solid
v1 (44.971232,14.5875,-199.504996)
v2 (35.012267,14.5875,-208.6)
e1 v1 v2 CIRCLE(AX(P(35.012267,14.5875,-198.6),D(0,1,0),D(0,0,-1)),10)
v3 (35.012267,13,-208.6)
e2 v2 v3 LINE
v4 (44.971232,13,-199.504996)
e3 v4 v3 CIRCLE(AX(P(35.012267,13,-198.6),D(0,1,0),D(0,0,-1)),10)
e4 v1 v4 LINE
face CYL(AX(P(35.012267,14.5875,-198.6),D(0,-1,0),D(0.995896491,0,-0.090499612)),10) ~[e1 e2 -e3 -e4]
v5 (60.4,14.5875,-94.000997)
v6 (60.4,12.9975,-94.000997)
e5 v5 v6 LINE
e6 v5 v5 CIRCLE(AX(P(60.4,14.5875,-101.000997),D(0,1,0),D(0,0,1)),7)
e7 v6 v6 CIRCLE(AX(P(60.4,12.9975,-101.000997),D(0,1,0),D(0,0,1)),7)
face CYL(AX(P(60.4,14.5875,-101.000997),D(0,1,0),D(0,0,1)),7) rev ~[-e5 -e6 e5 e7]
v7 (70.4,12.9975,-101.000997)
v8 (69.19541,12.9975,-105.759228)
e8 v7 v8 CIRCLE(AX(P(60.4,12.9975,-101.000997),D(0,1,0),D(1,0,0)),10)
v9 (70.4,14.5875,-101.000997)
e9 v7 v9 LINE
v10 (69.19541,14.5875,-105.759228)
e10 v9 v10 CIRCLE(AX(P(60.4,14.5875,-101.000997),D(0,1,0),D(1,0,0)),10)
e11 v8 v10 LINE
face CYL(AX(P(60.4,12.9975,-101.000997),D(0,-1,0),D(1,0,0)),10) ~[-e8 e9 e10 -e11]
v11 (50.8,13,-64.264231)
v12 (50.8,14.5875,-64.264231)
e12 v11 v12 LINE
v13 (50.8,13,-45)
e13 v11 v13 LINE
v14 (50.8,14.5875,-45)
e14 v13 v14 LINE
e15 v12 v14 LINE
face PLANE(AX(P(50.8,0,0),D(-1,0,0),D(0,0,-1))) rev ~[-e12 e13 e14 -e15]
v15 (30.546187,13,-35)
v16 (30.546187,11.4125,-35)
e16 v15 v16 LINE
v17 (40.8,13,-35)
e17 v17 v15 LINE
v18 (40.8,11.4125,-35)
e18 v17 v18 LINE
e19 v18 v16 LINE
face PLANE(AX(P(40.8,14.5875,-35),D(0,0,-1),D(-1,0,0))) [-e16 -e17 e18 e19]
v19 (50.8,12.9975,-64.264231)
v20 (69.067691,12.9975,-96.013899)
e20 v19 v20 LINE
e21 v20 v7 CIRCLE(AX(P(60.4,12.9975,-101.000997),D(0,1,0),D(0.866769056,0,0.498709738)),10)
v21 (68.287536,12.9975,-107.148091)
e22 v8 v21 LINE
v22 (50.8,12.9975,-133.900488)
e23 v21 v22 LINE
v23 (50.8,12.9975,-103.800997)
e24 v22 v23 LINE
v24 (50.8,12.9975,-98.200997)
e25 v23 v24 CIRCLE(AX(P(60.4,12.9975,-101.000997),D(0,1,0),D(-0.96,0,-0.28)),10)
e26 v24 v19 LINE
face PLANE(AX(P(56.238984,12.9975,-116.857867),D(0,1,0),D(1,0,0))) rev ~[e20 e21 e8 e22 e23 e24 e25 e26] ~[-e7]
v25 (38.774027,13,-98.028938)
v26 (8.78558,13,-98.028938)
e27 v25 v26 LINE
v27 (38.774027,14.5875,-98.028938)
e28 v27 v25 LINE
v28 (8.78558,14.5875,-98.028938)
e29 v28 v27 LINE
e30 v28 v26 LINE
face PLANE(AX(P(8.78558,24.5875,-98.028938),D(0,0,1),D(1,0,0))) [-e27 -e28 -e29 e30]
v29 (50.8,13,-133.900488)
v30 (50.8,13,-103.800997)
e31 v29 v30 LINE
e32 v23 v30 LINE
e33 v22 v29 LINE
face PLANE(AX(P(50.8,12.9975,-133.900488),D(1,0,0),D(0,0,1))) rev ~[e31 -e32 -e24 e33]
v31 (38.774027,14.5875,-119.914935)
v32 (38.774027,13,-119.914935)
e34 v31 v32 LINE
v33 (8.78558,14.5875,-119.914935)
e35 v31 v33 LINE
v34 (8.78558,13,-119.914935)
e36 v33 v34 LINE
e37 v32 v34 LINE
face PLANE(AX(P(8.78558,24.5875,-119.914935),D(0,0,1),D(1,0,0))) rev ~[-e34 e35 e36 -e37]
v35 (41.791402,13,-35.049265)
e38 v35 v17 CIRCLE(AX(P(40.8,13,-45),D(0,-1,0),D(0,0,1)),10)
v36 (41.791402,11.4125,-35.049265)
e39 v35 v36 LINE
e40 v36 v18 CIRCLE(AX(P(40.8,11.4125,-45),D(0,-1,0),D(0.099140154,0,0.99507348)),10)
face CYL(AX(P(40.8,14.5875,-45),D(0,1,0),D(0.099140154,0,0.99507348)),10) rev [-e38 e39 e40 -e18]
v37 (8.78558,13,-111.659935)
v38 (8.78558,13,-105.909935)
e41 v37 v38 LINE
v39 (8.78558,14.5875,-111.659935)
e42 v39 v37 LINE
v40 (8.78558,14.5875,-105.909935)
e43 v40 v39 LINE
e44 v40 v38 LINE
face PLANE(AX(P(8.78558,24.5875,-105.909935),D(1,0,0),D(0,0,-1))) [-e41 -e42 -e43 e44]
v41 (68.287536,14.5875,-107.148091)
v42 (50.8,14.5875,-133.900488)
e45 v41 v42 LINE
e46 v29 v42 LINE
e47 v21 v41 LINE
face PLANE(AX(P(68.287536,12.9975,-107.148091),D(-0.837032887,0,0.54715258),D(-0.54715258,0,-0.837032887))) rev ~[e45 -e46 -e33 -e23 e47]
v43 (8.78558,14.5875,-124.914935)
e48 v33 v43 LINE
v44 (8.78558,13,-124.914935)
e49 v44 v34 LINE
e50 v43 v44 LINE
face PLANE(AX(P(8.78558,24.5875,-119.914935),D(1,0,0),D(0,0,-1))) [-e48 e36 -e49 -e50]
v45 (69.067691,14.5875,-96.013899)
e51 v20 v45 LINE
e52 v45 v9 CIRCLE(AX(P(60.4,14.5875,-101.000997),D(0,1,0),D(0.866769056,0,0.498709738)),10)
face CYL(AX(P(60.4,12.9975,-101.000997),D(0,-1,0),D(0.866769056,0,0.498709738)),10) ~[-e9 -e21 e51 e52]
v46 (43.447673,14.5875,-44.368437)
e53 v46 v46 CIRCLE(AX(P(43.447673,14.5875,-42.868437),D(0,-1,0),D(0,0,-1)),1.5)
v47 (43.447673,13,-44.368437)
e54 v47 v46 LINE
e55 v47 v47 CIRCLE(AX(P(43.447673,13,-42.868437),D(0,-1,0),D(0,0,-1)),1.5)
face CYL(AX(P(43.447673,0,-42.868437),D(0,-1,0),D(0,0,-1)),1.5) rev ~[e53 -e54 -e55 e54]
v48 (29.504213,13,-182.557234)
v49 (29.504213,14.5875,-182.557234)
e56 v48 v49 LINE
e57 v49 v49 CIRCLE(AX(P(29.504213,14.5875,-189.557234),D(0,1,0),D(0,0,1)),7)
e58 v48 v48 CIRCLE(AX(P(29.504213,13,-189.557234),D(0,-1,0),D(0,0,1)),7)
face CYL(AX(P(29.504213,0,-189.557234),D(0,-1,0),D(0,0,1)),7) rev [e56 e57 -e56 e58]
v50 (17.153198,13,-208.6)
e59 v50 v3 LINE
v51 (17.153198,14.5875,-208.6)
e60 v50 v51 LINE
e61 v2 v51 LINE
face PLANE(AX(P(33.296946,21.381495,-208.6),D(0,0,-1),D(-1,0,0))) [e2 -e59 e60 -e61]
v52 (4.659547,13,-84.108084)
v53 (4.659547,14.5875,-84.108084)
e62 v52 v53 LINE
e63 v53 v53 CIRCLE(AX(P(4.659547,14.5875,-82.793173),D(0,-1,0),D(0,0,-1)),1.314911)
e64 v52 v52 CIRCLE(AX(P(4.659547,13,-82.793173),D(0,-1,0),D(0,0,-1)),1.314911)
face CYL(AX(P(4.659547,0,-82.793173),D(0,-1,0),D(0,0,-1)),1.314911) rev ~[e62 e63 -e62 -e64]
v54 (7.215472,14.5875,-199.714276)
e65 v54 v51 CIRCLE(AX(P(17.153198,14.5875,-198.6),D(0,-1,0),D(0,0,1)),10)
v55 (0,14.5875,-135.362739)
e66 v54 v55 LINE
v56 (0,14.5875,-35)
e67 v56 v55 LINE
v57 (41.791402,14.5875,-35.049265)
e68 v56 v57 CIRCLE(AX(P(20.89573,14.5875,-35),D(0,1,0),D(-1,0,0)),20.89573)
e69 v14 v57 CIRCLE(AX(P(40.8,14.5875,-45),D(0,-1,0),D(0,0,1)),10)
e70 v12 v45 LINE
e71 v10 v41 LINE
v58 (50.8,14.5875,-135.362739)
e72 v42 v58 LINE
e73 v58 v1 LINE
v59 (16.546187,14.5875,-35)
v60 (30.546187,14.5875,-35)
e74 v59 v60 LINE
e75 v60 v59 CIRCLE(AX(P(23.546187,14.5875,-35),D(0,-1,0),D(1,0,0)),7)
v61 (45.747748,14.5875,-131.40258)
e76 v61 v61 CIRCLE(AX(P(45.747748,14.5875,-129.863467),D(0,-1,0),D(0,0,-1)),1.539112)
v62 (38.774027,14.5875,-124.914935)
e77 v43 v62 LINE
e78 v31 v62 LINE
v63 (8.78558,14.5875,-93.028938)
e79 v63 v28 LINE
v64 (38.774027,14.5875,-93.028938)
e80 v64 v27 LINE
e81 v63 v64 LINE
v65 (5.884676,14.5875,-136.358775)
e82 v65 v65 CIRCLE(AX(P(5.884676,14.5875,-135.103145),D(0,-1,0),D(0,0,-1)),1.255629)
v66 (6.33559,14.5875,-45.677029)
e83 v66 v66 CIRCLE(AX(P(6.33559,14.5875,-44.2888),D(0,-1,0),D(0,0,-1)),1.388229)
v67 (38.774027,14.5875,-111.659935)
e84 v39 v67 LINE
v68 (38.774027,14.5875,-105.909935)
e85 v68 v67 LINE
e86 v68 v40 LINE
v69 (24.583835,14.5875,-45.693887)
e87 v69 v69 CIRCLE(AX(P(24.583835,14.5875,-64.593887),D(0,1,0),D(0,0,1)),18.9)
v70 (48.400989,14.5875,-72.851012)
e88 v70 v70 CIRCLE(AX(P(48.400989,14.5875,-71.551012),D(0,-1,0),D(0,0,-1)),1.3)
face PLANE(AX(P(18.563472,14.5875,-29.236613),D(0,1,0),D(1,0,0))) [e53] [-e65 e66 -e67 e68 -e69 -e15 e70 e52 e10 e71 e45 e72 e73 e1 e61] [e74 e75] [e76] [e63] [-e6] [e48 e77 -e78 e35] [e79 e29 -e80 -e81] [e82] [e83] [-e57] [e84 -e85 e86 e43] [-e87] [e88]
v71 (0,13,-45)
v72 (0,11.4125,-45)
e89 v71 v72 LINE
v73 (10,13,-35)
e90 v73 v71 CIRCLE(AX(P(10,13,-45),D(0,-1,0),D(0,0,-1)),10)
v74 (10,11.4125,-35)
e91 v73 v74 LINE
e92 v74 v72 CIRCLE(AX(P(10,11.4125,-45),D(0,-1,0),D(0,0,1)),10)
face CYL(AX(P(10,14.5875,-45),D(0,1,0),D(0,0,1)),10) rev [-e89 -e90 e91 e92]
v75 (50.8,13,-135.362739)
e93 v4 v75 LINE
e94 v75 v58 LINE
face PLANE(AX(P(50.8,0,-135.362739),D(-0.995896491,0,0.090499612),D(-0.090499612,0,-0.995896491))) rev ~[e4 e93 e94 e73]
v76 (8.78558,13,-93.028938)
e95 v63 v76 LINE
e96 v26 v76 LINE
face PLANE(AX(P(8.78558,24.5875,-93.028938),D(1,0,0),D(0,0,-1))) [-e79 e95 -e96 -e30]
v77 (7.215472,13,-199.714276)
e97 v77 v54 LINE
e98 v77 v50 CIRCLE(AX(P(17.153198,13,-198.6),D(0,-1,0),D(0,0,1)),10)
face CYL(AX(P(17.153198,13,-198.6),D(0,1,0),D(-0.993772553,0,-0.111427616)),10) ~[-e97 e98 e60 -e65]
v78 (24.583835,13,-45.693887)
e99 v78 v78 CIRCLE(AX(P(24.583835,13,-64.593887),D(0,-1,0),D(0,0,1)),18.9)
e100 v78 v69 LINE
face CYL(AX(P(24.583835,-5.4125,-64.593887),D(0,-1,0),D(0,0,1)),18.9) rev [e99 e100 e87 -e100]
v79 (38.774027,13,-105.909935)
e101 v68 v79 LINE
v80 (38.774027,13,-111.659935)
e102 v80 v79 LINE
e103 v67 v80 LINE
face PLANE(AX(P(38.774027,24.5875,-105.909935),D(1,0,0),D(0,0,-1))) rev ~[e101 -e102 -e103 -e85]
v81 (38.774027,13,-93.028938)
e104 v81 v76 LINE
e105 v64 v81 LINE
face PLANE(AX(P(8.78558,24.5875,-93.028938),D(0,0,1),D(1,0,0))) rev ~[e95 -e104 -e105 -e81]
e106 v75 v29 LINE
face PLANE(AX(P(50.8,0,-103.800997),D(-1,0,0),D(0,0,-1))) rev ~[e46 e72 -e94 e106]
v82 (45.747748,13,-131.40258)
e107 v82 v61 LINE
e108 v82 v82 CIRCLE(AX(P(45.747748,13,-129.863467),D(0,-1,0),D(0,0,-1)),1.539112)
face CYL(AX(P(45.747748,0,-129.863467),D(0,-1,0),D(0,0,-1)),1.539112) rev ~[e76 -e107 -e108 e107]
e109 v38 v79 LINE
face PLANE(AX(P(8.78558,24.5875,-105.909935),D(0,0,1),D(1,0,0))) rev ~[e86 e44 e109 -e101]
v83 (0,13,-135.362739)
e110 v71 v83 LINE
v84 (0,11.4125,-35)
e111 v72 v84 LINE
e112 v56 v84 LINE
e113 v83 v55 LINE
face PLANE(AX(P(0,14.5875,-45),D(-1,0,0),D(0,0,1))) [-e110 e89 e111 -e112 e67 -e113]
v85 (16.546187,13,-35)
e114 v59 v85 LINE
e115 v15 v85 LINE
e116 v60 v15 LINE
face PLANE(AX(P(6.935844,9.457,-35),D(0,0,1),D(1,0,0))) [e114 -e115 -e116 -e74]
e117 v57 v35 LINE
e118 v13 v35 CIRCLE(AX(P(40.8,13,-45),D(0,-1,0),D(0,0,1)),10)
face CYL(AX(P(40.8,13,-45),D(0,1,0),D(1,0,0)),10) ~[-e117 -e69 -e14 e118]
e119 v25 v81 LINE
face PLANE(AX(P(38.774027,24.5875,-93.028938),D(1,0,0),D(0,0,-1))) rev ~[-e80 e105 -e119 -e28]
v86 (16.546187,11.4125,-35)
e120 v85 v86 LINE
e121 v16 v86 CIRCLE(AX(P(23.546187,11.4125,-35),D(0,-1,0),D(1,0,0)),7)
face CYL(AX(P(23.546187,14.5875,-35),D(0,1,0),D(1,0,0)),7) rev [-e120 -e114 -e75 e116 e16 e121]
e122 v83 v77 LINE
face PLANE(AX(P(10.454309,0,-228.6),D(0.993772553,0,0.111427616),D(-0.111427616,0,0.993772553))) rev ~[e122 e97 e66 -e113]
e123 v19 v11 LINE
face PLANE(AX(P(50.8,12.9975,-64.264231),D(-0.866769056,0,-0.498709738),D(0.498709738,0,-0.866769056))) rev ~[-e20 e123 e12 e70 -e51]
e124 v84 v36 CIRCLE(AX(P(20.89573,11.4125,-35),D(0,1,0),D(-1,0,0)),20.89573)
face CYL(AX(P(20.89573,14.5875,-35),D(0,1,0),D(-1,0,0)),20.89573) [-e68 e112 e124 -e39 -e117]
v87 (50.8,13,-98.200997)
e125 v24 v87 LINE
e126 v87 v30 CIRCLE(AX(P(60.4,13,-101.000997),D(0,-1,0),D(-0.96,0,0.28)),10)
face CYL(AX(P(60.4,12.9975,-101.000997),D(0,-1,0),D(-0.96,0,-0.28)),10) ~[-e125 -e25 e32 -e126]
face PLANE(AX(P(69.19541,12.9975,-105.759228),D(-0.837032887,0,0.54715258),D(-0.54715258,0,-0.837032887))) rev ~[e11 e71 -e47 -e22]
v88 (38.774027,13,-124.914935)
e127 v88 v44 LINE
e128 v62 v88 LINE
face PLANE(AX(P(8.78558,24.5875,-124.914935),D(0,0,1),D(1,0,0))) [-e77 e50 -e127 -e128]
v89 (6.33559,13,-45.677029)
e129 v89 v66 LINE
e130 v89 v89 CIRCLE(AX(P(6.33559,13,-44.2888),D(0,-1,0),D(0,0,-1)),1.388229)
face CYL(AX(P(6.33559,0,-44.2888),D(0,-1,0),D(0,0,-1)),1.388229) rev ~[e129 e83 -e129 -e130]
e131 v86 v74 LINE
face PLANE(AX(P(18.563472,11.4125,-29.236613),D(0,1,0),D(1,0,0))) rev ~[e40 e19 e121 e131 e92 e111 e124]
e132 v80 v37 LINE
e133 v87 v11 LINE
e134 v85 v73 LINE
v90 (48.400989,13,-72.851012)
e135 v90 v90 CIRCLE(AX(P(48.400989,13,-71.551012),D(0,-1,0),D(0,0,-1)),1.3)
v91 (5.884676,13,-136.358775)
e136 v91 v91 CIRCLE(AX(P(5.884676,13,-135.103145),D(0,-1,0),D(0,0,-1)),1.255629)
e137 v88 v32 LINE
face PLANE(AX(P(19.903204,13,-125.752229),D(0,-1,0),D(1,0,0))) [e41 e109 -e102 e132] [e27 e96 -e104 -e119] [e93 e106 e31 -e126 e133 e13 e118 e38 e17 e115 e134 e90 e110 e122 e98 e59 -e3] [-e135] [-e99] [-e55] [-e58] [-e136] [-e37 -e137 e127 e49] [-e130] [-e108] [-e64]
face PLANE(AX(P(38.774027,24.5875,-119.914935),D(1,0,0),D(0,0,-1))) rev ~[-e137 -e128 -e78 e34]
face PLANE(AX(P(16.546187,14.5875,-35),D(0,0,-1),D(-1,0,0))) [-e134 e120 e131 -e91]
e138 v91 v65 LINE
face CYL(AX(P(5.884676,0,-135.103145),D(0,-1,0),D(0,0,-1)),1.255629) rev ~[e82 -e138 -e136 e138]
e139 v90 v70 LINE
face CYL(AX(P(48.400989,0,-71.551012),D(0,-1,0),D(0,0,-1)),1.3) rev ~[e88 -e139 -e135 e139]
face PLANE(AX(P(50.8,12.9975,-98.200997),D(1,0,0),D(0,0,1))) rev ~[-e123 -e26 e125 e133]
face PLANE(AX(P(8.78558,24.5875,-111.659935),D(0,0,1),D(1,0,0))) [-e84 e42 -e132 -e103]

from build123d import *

# Parameters (mm, degrees)
SKETCH1_R           = 2.875
SKETCH1_R_2         = 7
BOSS_EXTRUDE1_DEPTH = 24.5875
SKETCH4_W           = 66.272407177
SKETCH4_H           = 27.800260981
CUT_EXTRUDE2_DEPTH  = 20
FILLET3_R           = 10
FILLET4_R           = 10
BOSS_EXTRUDE3_START = -1.5875
BOSS_EXTRUDE3_DEPTH = 1.5875
SKETCH7_R           = 7
CUT_EXTRUDE3_DEPTH  = 1.5875
CUT_EXTRUDE4_START  = -10
SKETCH8_R           = 3
SKETCH8_R_2         = 18.9
SKETCH8_R_3         = 2.875
SKETCH8_R_4         = 7
CUT_EXTRUDE4_DEPTH  = 10
SKETCH9_W           = 229.1070397
SKETCH9_H           = 361.266964835
SKETCH9_R           = 1.388229101
SKETCH9_R_2         = 1.483383261
SKETCH9_R_3         = 1.314910669
SKETCH9_R_4         = 1.248623853
SKETCH9_R_5         = 1.255629307
SKETCH9_R_6         = 1.53911217
CUT_EXTRUDE5_DEPTH  = 13
SKETCH10_W          = 29.988446547
SKETCH10_H          = 5
SKETCH10_H_2        = 5.75
CUT_EXTRUDE6_DEPTH  = 22
SKETCH11_R          = 5.236653548
CUT_EXTRUDE7_DEPTH  = 10
BOSS_EXTRUDE4_START = -1.59
BOSS_EXTRUDE4_DEPTH = 1.59
SKETCH13_R          = 7
CUT_EXTRUDE8_DEPTH  = 41
SKETCH14_W          = 61.491848917
SKETCH14_H          = 35.587491391
CUT_EXTRUDE9_DEPTH  = 20
FILLET5_R           = 10
SKETCH16_W          = 163.723031551
SKETCH16_H          = 22.872070304
CUT_EXTRUDE11_DEPTH = 35
FILLET6_R           = 10
SKETCH17_R          = 1.53911217
SKETCH17_R_2        = 1.255629307
SKETCH17_R_3        = 1.3
SKETCH17_R_4        = 1.314910669
SKETCH17_R_5        = 1.388229101
SKETCH17_R_6        = 1.5
CUT_EXTRUDE12_DEPTH = 42
CUT_EXTRUDE13_START = -30
SKETCH18_R          = 18.9
CUT_EXTRUDE13_DEPTH = 30
BOSS_EXTRUDE5_DEPTH = 3.175


with BuildPart() as part:
    # Sketch1 → Boss-Extrude1 (new body)
    with BuildSketch(Plane(origin=(0, 0, 0), x_dir=(1, 0, 0), z_dir=(0, 1, 0))):
        with BuildLine():
            Line((42.32729629, 228.6), (10.454309325, 228.6))
            Line((10.454309325, 228.6), (0, 135.362739137))
            Line((0, 135.362739137), (0, 0))
            Line((0, 0), (24.327009544, 0))
            Line((24.327009544, 0), (50.8, 0))
            Line((50.8, 0), (50.8, 64.87909603))
            Line((50.8, 64.87909603), (50.8, 87.423477361))
            Line((50.8, 87.423477361), (50.8, 98.200996728))
            ThreePointArc((50.8, 98.200996728), (50.4, 101.000996728), (50.8, 103.800996728))
            Line((50.8, 103.800996728), (50.8, 104.488200565))
            Line((50.8, 104.488200565), (50.8, 120.619222808))
            Line((50.8, 120.619222808), (50.8, 135.362739137))
            Line((50.8, 135.362739137), (42.32729629, 228.6))
        make_face()
        with Locations(Location((24.101759227, 108.78493524, 0), (0, 0, 270))):
            Circle(SKETCH1_R, mode=Mode.SUBTRACT)
        with Locations(Location((29.504213454, 189.557234372, 0), (0, 0, 270))):
            Circle(SKETCH1_R_2, mode=Mode.SUBTRACT)
    extrude(amount=BOSS_EXTRUDE1_DEPTH)

    # Sketch4 → Cut-Extrude2 (cut)
    with BuildSketch(Plane(origin=(0, 0, -228.6), x_dir=(-1, 0, 0), z_dir=(0, 0, -1))):
        with Locations((-28.174690156, -1.980940155)):
            Rectangle(SKETCH4_W, SKETCH4_H)
    extrude(amount=-CUT_EXTRUDE2_DEPTH, mode=Mode.SUBTRACT)

    # Fillet3
    fillet3_edges = [part.edges().sort_by_distance(p)[0] for p in [
        (44.144746445, 5.959595168, -208.6),
    ]]
    fillet(fillet3_edges, radius=FILLET3_R)

    # Fillet4
    fillet4_edges = [part.edges().sort_by_distance(p)[0] for p in [
        (50.8, 12.29375, 0),
        (0, 12.29375, 0),
        (8.211791854, 5.959595168, -208.6),
    ]]
    fillet(fillet4_edges, radius=FILLET4_R)

    # Sketch6 → Boss-Extrude3 (add)
    with BuildSketch(Plane(origin=(0, 24.5875, 0), x_dir=(1, 0, 0), z_dir=(0, 1, 0)).offset(BOSS_EXTRUDE3_START)):
        with BuildLine():
            Line((50.8, 135.362739137), (50.8, 103.800996728))
            ThreePointArc((50.8, 103.800996728), (50.4, 101.000996728), (50.8, 98.200996728))
            Line((50.8, 98.200996728), (50.8, 61.124243317))
            Line((50.8, 61.124243317), (69.258211507, 96.360728536))
            ThreePointArc((69.258211507, 96.360728536), (70.393157133, 101.370875786), (68.890940865, 106.283413148))
            Line((68.890940865, 106.283413148), (50.8, 135.362739137))
        make_face()
    extrude(amount=BOSS_EXTRUDE3_DEPTH)

    # Sketch7 → Cut-Extrude3 (cut)
    with BuildSketch(Plane(origin=(0, 24.5875, 0), x_dir=(1, 0, 0), z_dir=(0, 1, 0))):
        with Locations(Location((60.4, 101.000996728, 0), (0, 0, 270))):
            Circle(SKETCH7_R)
    extrude(amount=-CUT_EXTRUDE3_DEPTH, mode=Mode.SUBTRACT)

    # Sketch8 → Cut-Extrude4 (cut)
    with BuildSketch(Plane(origin=(0, 24.5875, 0), x_dir=(1, 0, 0), z_dir=(0, 1, 0)).offset(CUT_EXTRUDE4_START)):
        with BuildLine():
            Line((10.454309325, 228.6), (0, 135.362739137))
            Line((0, 135.362739137), (0, 10))
            ThreePointArc((0, 10), (2.928932188, 2.928932188), (10, 0))
            Line((10, 0), (40.8, 0))
            ThreePointArc((40.8, 0), (47.871067812, 2.928932188), (50.8, 10))
            Line((50.8, 10), (50.8, 61.124243317))
            Line((50.8, 61.124243317), (69.258211507, 96.360728536))
            ThreePointArc((69.258211507, 96.360728536), (70.393157133, 101.370875786), (68.890940865, 106.283413148))
            Line((68.890940865, 106.283413148), (50.8, 135.362739137))
            Line((50.8, 135.362739137), (42.32729629, 228.6))
            Line((42.32729629, 228.6), (10.454309325, 228.6))
        make_face()
        with Locations(Location((9.492033273, 118.909935242, 0), (0, 0, 270))):
            Circle(SKETCH8_R, mode=Mode.SUBTRACT)
        with Locations(Location((24.583834565, 64.593886665, 0), (0, 0, 270))):
            Circle(SKETCH8_R_2, mode=Mode.SUBTRACT)
        with Locations(Location((24.101759227, 108.78493524, 0), (0, 0, 270))):
            Circle(SKETCH8_R_3, mode=Mode.SUBTRACT)
        with Locations((60.4, 101.000996728)):
            Circle(SKETCH8_R_4, mode=Mode.SUBTRACT)
        with Locations(Location((29.504213454, 189.557234372, 0), (0, 0, 270))):
            Circle(SKETCH8_R_4, mode=Mode.SUBTRACT)
    extrude(amount=CUT_EXTRUDE4_DEPTH, mode=Mode.SUBTRACT)

    # Sketch9 → Cut-Extrude5 (cut)
    with BuildSketch(Plane.XZ):
        with Locations((19.903204009, -125.752229467)):
            Rectangle(SKETCH9_W, SKETCH9_H)
        with Locations(Location((6.335590122, -44.288799513, 0), (0, 0, 270))):
            Circle(SKETCH9_R, mode=Mode.SUBTRACT)
        with Locations(Location((43.447673368, -42.868436544, 0), (0, 0, 270))):
            Circle(SKETCH9_R_2, mode=Mode.SUBTRACT)
        with Locations(Location((4.659546827, -82.793173401, 0), (0, 0, 270))):
            Circle(SKETCH9_R_3, mode=Mode.SUBTRACT)
        with Locations(Location((48.400988852, -71.551011715, 0), (0, 0, 270))):
            Circle(SKETCH9_R_4, mode=Mode.SUBTRACT)
        with Locations(Location((5.88467603, -135.103145298, 0), (0, 0, 270))):
            Circle(SKETCH9_R_5, mode=Mode.SUBTRACT)
        with Locations(Location((45.747747887, -129.863467374, 0), (0, 0, 270))):
            Circle(SKETCH9_R_6, mode=Mode.SUBTRACT)
    extrude(amount=-CUT_EXTRUDE5_DEPTH, mode=Mode.SUBTRACT)

    # Sketch10 → Cut-Extrude6 (cut)
    with BuildSketch(Plane(origin=(0, 24.5875, 0), x_dir=(1, 0, 0), z_dir=(0, 1, 0))):
        with Locations((23.779803557, 122.41493524)):
            Rectangle(SKETCH10_W, SKETCH10_H)
        with Locations((23.779803557, 108.78493524)):
            Rectangle(SKETCH10_W, SKETCH10_H_2)
        with Locations((23.779803557, 95.528937895)):
            Rectangle(SKETCH10_W, SKETCH10_H)
    extrude(amount=-CUT_EXTRUDE6_DEPTH, mode=Mode.SUBTRACT)

    # Sketch11 → Cut-Extrude7 (cut)
    with BuildSketch(Plane(origin=(0, 24.5875, 0), x_dir=(1, 0, 0), z_dir=(0, 1, 0))):
        with Locations((8.535526315, 118.29502971)):
            Circle(SKETCH11_R)
    extrude(amount=-CUT_EXTRUDE7_DEPTH, mode=Mode.SUBTRACT)

    # Sketch12 → Boss-Extrude4 (add)
    with BuildSketch(Plane(origin=(0, 14.5875, 0), x_dir=(1, 0, 0), z_dir=(0, 1, 0)).offset(BOSS_EXTRUDE4_START)):
        with BuildLine():
            Line((68.287536191, 107.148091395), (50.8, 133.900488173))
            Line((50.8, 133.900488173), (50.8, 103.800996728))
            ThreePointArc((50.8, 103.800996728), (58.520134646, 110.822712782), (68.287536191, 107.148091395))
        make_face()
        with BuildLine():
            Line((69.19540964, 105.759228466), (68.287536191, 107.148091395))
            ThreePointArc((68.287536191, 107.148091395), (58.520134646, 110.822712782), (50.8, 103.800996728))
            ThreePointArc((50.8, 103.800996728), (50.4, 101.000996728), (50.8, 98.200996728))
            ThreePointArc((50.8, 98.200996728), (59.211240578, 91.07190558), (69.067690563, 96.013899345))
            ThreePointArc((69.067690563, 96.013899345), (70.061182785, 98.419999404), (70.4, 101.000996728))
            ThreePointArc((70.4, 101.000996728), (70.094175994, 103.455167016), (69.19540964, 105.759228466))
        make_face()
        with BuildLine():
            ThreePointArc((69.067690563, 96.013899345), (59.211240578, 91.07190558), (50.8, 98.200996728))
            Line((50.8, 98.200996728), (50.8, 64.264230765))
            Line((50.8, 64.264230765), (69.067690563, 96.013899345))
        make_face()
    extrude(amount=BOSS_EXTRUDE4_DEPTH)

    # Sketch13 → Cut-Extrude8 (cut)
    with BuildSketch(Plane(origin=(0, 14.5875, 0), x_dir=(1, 0, 0), z_dir=(0, 1, 0))):
        with Locations(Location((60.4, 101.000996728, 0), (0, 0, 270))):
            Circle(SKETCH13_R)
    extrude(amount=-CUT_EXTRUDE8_DEPTH, mode=Mode.SUBTRACT)

    # Sketch14 → Cut-Extrude9 (cut)
    with BuildSketch(Plane(origin=(0, 0, -228.6), x_dir=(-1, 0, 0), z_dir=(0, 0, -1))):
        with Locations((-33.296946078, 21.381494753)):
            Rectangle(SKETCH14_W, SKETCH14_H)
    extrude(amount=-CUT_EXTRUDE9_DEPTH, mode=Mode.SUBTRACT)

    # Fillet5
    fillet5_edges = [part.edges().sort_by_distance(p)[0] for p in [
        (44.144746445, 13.79375, -208.6),
        (8.211791854, 13.79375, -208.6),
    ]]
    fillet(fillet5_edges, radius=FILLET5_R)

    # Sketch16 → Cut-Extrude11 (cut)
    with BuildSketch(Plane.XY):
        with Locations((6.935844153, 9.456999915)):
            Rectangle(SKETCH16_W, SKETCH16_H)
    extrude(amount=-CUT_EXTRUDE11_DEPTH, mode=Mode.SUBTRACT)

    # Fillet6
    fillet6_edges = [part.edges().sort_by_distance(p)[0] for p in [
        (0, 13.79375, -35),
        (50.8, 13.79375, -35),
    ]]
    fillet(fillet6_edges, radius=FILLET6_R)

    # Sketch17 → Cut-Extrude12 (cut)
    with BuildSketch(Plane.XZ):
        with Locations(Location((45.747747887, -129.863467374, 0), (0, 0, 270))):
            Circle(SKETCH17_R)
        with Locations(Location((5.88467603, -135.103145298, 0), (0, 0, 270))):
            Circle(SKETCH17_R_2)
        with Locations(Location((48.400988852, -71.551011715, 0), (0, 0, 270))):
            Circle(SKETCH17_R_3)
        with Locations(Location((4.659546827, -82.793173401, 0), (0, 0, 270))):
            Circle(SKETCH17_R_4)
        with Locations(Location((6.335590122, -44.288799513, 0), (0, 0, 270))):
            Circle(SKETCH17_R_5)
        with Locations(Location((43.447673368, -42.868436544, 0), (0, 0, 270))):
            Circle(SKETCH17_R_6)
    extrude(amount=-CUT_EXTRUDE12_DEPTH, mode=Mode.SUBTRACT)

    # Sketch18 → Cut-Extrude13 (cut)
    with BuildSketch(Plane(origin=(0, 24.5875, 0), x_dir=(1, 0, 0), z_dir=(0, 1, 0)).offset(CUT_EXTRUDE13_START)):
        with Locations(Location((24.583834565, 64.593886665, 0), (0, 0, 270))):
            Circle(SKETCH18_R)
    extrude(amount=CUT_EXTRUDE13_DEPTH, mode=Mode.SUBTRACT)

    # Sketch19 → Boss-Extrude5 (add)
    with BuildSketch(Plane(origin=(0, 14.5875, 0), x_dir=(1, 0, 0), z_dir=(0, 1, 0))):
        with BuildLine():
            ThreePointArc((10, 35), (2.928932188, 37.928932188), (0, 45))
            Line((0, 45), (0, 35))
            ThreePointArc((0, 35), (20.920362417, 14.10428472), (41.791401522, 35.049265202))
            ThreePointArc((41.791401522, 35.049265202), (41.296312411, 35.012323894), (40.8, 35))
            Line((40.8, 35), (30.546186564, 35))
            ThreePointArc((30.546186564, 35), (23.546186564, 28), (16.546186564, 35))
            Line((16.546186564, 35), (10, 35))
        make_face()
    extrude(amount=-BOSS_EXTRUDE5_DEPTH)


solid = part.part
